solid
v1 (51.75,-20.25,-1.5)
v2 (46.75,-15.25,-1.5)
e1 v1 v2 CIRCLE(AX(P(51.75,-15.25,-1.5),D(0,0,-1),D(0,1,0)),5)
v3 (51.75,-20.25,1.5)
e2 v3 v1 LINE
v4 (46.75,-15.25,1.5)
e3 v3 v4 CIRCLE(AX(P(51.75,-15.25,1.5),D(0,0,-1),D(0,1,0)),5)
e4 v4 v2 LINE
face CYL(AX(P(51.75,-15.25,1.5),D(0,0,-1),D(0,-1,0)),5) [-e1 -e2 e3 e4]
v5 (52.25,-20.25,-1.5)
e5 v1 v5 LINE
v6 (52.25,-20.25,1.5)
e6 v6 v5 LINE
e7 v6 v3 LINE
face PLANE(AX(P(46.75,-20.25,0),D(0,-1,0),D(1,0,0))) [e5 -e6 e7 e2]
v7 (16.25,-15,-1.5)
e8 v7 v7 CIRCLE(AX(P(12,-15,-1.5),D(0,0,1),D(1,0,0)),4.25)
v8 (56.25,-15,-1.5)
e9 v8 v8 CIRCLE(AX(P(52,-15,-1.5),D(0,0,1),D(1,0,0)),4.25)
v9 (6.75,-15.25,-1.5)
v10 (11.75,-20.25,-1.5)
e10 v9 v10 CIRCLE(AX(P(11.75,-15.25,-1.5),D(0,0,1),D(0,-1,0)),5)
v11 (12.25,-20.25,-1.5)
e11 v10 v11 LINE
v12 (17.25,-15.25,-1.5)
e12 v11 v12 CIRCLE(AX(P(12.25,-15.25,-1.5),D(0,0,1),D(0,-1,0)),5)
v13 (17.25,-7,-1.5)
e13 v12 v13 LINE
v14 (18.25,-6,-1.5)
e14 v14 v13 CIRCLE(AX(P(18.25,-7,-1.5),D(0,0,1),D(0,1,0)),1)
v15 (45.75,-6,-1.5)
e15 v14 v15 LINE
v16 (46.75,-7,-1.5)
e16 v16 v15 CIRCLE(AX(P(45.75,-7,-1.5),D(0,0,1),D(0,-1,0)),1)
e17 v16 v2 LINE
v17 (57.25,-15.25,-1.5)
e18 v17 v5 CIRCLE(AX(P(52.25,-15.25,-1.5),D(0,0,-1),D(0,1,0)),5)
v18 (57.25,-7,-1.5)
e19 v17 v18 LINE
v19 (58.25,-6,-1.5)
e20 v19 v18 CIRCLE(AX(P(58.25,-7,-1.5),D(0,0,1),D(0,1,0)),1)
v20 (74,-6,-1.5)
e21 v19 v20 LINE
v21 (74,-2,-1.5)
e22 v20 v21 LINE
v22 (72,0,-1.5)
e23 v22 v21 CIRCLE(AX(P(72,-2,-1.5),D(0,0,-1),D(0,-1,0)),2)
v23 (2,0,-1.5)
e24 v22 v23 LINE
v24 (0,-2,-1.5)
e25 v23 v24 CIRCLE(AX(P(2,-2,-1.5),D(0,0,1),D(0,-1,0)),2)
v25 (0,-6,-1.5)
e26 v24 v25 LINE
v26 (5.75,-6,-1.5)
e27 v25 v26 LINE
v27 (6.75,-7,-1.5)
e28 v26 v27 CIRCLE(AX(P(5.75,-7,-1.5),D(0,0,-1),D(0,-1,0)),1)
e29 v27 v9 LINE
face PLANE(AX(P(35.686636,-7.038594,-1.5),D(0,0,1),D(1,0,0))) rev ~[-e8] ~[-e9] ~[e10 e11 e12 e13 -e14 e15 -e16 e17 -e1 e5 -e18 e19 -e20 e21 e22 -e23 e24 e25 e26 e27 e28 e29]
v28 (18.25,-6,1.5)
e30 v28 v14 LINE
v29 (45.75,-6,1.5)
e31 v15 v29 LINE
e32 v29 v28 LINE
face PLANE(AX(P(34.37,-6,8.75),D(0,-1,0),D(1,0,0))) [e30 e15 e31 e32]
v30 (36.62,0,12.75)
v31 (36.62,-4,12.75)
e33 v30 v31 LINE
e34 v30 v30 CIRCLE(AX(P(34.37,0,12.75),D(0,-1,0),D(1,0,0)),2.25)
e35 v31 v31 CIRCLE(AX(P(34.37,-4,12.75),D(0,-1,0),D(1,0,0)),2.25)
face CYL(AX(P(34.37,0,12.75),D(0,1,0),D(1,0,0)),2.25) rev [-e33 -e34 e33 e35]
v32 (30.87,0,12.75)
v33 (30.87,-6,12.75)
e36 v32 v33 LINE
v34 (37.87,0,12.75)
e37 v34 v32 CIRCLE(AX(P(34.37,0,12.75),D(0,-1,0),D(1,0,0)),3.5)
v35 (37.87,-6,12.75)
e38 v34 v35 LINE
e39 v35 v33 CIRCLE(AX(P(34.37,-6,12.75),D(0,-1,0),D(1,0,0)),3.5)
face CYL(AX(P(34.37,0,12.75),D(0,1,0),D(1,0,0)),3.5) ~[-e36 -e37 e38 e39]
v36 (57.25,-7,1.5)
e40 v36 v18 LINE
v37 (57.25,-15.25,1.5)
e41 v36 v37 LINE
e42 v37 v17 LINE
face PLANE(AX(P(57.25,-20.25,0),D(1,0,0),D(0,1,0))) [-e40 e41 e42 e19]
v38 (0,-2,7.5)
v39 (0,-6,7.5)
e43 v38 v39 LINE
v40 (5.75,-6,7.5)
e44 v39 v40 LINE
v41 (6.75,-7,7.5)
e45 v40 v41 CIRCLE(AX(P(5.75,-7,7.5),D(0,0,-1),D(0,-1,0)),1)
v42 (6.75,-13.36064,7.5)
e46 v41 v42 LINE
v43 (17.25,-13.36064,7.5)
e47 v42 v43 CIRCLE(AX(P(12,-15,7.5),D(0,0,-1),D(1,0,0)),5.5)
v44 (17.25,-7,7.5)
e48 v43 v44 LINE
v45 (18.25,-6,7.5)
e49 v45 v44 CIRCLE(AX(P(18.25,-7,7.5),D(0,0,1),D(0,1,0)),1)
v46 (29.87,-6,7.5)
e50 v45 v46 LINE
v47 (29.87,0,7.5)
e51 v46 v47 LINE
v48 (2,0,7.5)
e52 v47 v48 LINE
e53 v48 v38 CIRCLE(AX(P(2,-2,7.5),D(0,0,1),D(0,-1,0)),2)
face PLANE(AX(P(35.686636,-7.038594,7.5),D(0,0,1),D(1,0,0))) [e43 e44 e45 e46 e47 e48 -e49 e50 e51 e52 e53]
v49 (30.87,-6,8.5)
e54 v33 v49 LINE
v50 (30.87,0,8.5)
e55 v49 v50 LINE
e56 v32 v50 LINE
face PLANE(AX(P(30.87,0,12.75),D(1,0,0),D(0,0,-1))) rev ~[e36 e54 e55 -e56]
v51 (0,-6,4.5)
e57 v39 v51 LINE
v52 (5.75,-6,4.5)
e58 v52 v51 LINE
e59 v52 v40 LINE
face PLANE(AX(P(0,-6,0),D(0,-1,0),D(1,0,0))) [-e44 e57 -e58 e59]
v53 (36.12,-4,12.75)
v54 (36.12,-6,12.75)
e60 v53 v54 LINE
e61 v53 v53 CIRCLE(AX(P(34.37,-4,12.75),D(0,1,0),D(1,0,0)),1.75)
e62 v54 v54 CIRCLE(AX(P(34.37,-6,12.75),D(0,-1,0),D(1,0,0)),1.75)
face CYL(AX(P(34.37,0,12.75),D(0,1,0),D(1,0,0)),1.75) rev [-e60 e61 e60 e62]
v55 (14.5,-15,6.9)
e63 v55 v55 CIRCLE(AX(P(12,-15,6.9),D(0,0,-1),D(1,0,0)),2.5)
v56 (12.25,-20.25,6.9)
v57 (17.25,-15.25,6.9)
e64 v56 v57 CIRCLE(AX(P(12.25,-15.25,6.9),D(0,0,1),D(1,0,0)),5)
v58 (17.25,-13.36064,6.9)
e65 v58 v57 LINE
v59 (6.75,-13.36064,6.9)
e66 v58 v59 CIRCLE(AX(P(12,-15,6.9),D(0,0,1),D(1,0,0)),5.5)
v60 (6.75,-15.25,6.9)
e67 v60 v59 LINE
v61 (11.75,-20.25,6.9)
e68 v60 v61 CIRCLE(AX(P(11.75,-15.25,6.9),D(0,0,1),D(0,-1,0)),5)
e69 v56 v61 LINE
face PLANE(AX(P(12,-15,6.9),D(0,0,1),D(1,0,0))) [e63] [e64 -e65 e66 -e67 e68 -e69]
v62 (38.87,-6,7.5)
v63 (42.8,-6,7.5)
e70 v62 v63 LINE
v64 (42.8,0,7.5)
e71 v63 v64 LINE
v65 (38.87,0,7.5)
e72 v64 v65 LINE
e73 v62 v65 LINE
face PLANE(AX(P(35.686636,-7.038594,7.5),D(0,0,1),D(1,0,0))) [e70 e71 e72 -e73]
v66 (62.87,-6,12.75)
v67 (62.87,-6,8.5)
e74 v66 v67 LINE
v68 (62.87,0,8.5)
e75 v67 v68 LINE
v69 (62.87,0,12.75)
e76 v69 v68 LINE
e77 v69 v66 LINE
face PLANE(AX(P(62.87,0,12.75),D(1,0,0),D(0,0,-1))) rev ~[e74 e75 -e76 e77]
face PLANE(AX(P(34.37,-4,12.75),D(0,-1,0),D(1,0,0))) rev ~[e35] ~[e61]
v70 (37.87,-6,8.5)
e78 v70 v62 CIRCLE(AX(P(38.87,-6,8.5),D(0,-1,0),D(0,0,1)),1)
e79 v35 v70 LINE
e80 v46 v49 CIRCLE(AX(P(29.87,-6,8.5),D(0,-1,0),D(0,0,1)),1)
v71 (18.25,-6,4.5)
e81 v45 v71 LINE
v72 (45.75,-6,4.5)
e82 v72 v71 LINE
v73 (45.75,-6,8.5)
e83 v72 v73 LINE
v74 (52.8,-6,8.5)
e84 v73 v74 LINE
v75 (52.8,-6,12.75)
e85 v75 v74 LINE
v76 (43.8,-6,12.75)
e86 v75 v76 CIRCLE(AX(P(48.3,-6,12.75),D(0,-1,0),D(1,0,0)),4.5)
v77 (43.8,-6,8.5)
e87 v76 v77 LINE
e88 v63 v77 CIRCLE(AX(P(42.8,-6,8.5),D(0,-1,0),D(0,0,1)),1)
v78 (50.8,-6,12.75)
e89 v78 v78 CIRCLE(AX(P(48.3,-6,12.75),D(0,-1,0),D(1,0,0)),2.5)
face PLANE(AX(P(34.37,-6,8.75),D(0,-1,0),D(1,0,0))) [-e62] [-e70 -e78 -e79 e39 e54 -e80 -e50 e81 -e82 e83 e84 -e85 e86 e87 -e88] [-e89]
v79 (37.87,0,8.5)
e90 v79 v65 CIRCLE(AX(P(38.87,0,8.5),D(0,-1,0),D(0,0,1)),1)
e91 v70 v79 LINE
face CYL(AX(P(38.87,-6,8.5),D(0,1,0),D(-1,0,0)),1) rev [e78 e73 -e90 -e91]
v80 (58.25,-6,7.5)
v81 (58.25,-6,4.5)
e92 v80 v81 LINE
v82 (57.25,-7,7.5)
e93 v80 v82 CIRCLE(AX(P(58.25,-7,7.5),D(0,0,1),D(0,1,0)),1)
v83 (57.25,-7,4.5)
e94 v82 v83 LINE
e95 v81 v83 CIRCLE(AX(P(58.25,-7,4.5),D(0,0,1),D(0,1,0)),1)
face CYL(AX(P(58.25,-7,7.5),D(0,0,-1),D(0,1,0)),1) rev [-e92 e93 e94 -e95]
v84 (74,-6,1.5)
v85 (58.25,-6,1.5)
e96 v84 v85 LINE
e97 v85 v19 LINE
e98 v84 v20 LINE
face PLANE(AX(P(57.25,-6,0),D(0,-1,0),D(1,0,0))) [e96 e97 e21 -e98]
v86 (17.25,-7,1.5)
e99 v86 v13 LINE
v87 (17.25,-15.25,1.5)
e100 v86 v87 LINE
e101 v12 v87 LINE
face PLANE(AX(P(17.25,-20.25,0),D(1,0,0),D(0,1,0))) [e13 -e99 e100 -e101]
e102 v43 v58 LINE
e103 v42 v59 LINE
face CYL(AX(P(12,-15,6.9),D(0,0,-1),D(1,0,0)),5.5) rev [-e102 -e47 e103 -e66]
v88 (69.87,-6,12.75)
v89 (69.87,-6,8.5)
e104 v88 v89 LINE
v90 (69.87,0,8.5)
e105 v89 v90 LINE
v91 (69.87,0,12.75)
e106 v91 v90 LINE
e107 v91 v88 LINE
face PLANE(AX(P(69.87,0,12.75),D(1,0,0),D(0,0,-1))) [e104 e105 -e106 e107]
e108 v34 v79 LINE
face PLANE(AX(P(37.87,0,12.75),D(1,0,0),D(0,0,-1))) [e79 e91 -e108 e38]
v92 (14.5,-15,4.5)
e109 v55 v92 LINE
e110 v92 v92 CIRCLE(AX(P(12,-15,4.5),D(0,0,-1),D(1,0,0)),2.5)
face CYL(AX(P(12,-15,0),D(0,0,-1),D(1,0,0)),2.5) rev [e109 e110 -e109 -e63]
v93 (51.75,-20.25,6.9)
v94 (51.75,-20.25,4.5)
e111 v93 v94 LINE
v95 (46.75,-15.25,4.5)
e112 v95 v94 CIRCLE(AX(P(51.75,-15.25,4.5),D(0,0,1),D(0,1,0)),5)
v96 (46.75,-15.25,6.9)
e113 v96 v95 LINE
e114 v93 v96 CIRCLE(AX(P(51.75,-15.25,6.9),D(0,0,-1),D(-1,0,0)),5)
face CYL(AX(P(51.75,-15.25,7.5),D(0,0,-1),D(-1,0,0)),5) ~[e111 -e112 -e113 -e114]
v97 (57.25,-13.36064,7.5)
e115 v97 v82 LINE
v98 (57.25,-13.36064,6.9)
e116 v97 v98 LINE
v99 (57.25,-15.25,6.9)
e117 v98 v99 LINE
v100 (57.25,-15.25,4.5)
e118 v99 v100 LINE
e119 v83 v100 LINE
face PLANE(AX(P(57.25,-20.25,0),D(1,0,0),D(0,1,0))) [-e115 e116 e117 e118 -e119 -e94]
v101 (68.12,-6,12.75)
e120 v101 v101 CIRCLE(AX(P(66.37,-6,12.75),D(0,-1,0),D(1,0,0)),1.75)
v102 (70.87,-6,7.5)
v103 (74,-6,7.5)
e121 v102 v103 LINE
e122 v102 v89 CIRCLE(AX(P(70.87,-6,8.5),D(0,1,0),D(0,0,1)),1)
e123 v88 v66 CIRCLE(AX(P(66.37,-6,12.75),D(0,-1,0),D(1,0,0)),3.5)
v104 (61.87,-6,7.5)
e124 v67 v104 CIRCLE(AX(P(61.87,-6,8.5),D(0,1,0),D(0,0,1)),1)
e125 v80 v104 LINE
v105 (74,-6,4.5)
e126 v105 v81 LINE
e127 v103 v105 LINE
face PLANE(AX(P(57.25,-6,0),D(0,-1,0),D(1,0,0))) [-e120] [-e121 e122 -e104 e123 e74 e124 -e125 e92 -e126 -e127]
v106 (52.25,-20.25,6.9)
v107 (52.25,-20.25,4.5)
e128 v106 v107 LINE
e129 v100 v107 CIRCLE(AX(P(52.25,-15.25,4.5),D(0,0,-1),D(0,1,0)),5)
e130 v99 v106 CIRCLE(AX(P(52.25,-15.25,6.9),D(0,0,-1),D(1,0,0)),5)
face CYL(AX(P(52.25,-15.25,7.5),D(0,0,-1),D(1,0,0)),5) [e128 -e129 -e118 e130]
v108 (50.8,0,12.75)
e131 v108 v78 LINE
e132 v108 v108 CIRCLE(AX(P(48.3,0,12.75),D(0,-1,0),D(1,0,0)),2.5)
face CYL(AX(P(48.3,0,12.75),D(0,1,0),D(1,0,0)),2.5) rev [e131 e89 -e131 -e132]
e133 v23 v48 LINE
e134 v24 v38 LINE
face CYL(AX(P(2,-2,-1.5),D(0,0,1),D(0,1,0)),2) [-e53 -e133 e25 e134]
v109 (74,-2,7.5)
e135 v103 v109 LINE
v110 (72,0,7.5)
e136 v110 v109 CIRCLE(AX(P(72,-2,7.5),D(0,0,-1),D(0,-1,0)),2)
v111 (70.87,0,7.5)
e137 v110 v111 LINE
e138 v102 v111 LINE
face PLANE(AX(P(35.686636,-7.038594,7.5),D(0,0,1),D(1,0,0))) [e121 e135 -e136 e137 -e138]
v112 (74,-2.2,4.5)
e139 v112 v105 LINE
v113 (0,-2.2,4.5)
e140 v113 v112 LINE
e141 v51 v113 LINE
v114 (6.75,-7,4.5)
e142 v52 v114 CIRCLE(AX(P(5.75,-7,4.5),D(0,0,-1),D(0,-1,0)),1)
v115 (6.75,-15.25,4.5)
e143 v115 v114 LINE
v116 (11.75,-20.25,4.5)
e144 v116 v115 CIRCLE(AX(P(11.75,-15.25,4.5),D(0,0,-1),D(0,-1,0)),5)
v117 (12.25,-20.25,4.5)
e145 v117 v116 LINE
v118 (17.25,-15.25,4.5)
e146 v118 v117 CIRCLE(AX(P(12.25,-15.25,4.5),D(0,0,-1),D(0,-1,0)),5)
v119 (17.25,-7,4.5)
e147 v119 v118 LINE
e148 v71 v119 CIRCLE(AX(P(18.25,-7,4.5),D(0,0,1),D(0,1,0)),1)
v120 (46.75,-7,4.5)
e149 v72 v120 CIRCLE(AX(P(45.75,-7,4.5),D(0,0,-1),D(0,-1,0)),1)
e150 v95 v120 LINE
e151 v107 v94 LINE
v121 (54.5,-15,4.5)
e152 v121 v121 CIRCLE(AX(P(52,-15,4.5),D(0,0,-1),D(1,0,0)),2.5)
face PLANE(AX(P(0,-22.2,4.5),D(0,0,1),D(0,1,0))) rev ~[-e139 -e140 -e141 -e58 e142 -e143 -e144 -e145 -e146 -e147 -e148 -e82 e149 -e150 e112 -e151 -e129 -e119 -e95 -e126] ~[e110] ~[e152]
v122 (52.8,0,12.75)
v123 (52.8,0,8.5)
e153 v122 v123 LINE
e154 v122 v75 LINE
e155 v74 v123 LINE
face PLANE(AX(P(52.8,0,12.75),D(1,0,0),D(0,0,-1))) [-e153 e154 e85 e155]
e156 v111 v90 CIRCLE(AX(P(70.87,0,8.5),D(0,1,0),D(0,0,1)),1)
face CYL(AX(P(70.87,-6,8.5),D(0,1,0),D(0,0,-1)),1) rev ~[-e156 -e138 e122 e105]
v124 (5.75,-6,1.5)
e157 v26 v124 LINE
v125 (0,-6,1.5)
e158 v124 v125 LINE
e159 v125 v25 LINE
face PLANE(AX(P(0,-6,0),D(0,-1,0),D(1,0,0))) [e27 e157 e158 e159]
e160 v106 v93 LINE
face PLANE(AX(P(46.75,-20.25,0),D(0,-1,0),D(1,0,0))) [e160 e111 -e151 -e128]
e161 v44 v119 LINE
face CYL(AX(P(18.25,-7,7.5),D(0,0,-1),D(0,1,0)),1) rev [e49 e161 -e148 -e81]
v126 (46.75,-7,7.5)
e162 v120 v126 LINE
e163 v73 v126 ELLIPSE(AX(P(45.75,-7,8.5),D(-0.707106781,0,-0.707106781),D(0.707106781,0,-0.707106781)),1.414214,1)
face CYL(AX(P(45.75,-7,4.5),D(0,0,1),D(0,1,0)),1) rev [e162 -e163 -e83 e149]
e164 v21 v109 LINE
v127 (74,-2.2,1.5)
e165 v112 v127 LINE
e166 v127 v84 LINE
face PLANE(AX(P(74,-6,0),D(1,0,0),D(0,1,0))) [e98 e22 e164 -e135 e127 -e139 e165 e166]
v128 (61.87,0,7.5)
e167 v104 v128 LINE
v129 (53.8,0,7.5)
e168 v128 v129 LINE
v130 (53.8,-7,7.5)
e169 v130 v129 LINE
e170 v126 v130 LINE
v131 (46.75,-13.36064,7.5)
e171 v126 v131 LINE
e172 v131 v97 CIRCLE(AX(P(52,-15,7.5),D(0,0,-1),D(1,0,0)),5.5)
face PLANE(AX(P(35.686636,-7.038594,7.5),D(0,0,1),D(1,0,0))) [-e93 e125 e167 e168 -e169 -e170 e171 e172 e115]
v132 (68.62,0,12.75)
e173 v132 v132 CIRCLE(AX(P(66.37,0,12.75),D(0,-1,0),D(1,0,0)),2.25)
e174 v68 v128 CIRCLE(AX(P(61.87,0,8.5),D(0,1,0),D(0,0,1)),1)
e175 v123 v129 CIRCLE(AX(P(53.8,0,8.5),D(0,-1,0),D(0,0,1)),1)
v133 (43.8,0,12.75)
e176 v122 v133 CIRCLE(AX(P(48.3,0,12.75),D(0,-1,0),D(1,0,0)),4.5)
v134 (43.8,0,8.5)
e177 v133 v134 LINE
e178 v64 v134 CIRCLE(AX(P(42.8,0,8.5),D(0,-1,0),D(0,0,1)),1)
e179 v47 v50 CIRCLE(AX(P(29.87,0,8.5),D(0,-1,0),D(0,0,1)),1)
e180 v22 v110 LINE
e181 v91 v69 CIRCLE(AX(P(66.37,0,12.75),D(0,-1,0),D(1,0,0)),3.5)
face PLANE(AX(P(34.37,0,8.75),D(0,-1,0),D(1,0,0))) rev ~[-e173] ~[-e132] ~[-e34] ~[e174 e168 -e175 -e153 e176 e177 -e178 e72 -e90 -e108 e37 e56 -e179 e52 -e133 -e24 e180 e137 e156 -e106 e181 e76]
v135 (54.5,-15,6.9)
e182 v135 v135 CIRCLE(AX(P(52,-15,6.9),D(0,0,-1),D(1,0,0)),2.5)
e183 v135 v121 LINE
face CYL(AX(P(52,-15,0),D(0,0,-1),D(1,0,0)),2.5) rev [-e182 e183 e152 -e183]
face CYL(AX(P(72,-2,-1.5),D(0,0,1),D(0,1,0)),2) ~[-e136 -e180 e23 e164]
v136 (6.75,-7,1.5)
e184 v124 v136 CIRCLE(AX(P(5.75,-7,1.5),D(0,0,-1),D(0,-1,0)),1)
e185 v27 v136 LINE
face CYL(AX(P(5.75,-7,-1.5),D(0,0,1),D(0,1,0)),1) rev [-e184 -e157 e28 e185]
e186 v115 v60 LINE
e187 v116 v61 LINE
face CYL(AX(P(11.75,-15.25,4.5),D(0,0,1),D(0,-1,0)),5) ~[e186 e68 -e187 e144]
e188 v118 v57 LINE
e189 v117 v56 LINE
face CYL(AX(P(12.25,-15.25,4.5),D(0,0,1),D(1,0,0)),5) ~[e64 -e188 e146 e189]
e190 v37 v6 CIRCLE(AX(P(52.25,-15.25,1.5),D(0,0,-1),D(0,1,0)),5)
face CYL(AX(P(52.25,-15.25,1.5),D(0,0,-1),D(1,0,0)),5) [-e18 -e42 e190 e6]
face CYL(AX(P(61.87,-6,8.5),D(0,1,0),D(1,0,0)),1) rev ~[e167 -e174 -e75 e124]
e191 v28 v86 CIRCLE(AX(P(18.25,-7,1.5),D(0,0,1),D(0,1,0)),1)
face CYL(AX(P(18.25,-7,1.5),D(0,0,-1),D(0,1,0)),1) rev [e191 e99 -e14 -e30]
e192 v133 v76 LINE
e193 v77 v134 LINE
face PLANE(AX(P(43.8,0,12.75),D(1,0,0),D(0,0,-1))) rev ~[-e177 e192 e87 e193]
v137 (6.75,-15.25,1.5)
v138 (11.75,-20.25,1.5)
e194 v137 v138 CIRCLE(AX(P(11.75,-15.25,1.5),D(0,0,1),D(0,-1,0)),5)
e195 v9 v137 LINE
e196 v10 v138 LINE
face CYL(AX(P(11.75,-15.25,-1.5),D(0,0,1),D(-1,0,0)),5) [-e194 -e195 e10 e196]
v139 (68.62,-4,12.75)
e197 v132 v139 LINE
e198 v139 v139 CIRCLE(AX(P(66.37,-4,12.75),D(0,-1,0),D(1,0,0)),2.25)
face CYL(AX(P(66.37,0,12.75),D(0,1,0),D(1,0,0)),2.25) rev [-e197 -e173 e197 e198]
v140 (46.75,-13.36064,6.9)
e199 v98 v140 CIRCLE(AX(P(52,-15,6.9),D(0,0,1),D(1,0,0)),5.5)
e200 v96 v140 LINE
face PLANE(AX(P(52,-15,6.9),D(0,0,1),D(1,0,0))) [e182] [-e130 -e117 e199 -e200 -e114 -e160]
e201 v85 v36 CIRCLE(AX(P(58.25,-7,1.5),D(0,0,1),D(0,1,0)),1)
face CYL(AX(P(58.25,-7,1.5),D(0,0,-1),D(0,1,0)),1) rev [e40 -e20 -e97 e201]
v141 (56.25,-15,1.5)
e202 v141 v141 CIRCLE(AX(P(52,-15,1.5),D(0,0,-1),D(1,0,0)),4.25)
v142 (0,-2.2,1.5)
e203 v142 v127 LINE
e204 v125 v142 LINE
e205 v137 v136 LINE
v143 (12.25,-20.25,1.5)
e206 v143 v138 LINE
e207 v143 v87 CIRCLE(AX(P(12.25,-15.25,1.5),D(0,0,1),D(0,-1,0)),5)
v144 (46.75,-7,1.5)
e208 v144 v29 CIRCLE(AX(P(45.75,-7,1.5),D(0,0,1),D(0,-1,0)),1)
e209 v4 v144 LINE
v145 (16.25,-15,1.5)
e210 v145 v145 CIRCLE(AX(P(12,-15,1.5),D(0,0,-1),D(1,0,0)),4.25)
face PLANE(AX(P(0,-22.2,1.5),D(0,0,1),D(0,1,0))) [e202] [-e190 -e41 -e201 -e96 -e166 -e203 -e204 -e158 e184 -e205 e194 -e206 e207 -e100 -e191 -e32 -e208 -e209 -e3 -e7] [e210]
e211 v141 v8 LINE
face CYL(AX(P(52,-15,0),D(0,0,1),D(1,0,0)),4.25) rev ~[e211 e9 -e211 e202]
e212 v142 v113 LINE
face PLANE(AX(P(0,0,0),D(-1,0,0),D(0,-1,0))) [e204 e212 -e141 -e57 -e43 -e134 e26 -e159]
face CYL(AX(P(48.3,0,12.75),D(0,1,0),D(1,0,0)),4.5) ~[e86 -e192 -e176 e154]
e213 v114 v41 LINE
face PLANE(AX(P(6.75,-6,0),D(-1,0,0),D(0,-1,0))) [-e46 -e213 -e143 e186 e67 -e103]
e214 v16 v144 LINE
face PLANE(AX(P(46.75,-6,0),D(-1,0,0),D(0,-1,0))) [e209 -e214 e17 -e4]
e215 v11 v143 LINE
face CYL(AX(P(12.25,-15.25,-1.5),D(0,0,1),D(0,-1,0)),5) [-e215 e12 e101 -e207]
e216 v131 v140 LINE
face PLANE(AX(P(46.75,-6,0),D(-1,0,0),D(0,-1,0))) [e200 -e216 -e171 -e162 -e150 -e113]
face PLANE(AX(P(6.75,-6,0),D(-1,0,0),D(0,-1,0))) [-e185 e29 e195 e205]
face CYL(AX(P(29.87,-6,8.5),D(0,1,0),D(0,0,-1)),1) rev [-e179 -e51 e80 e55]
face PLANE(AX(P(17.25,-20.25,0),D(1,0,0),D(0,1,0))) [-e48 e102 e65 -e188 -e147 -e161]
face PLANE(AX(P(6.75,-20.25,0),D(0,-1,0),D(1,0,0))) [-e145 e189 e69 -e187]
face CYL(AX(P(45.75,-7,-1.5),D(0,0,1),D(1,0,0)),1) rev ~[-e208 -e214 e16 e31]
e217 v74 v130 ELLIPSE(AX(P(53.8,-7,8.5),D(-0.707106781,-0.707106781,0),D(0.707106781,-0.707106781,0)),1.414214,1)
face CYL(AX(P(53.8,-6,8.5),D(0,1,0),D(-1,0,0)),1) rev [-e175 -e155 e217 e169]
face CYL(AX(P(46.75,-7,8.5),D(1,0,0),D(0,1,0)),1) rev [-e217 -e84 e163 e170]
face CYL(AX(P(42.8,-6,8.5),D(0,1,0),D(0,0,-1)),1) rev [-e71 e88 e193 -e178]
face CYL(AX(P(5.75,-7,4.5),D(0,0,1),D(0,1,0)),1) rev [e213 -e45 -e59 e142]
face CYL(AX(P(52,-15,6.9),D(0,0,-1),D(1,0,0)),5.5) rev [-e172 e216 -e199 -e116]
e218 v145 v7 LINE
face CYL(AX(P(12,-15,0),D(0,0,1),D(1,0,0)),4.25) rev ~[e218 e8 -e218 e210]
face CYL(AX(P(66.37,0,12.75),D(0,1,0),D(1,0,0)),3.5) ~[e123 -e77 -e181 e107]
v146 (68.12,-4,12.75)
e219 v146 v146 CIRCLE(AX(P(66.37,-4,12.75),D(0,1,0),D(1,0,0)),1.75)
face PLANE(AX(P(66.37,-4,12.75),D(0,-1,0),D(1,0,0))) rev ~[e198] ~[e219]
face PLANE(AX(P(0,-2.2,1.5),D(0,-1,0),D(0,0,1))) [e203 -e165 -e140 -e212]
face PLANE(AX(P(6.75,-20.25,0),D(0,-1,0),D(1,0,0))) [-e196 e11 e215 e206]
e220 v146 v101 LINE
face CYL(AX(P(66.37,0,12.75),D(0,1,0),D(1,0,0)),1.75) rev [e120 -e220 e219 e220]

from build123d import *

# Parameters (mm, degrees)
SKETCH001_R          = 2.5
PAD_DEPTH            = 7.5
PAD_DEPTH_BACK       = 1.5
SKETCH_R             = 1.75
SKETCH_R_2           = 2.5
PAD001_DEPTH         = 6
SKETCH003_W          = 20
SKETCH003_H          = 3
POCKET_DEPTH         = 100
POCKET_DEPTH_BACK    = -100
FILLET_R             = 5
FILLET001_R          = 2
FILLET002_R          = 1
SKETCH004_R          = 4.25
POCKET001_DEPTH      = 2
POCKET001_DEPTH_BACK = -2
SKETCH005_R          = 5.5
POCKET002_DEPTH      = 5
SKETCH006_R          = 2.25
POCKET003_DEPTH      = 4


with BuildPart() as part:
    # Sketch001 → Pad (new body, two sides)
    with BuildSketch(Plane.XY) as pad_sk:
        Polygon((74, -6), (74, 0), (0, 0), (0, -6), (6.75, -6), (6.75, -20.25), (17.25, -20.25), (17.25, -6), (46.75, -6), (46.75, -20.25), (57.25, -20.25), (57.25, -6), align=None)
        with Locations((12, -15)):
            Circle(SKETCH001_R, mode=Mode.SUBTRACT)
        with Locations((52, -15)):
            Circle(SKETCH001_R, mode=Mode.SUBTRACT)
    extrude(amount=PAD_DEPTH)
    extrude(pad_sk.sketch, amount=-PAD_DEPTH_BACK)

    # Sketch → Pad001 (join)
    with BuildSketch(Plane.XZ):
        with BuildLine():
            ThreePointArc((37.87, 12.75), (34.37, 16.25), (30.87, 12.75))
            Line((30.87, 12.75), (30.87, 4.75))
            ThreePointArc((30.87, 4.75), (34.37, 1.25), (37.87, 4.75))
            Line((37.87, 12.75), (37.87, 4.75))
        make_face()
        with Locations((34.37, 12.75)):
            Circle(SKETCH_R, mode=Mode.SUBTRACT)
        with BuildLine():
            ThreePointArc((52.8, 12.75), (48.3, 17.25), (43.8, 12.75))
            Line((43.8, 12.75), (43.8, 4.75))
            ThreePointArc((43.8, 4.75), (48.3, 0.25), (52.8, 4.75))
            Line((52.8, 12.75), (52.8, 4.75))
        make_face()
        with Locations((48.3, 12.75)):
            Circle(SKETCH_R_2, mode=Mode.SUBTRACT)
        with BuildLine():
            ThreePointArc((69.87, 12.75), (66.37, 16.25), (62.87, 12.75))
            Line((62.87, 12.75), (62.87, 4.75))
            ThreePointArc((62.87, 4.75), (66.37, 1.25), (69.87, 4.75))
            Line((69.87, 12.75), (69.87, 4.75))
        make_face()
        with Locations((66.37, 12.75)):
            Circle(SKETCH_R, mode=Mode.SUBTRACT)
    extrude(amount=PAD001_DEPTH)

    # Sketch003 → Pocket (cut, two sides)
    with BuildSketch(Plane.YZ) as pocket_sk:
        with Locations((-12.2, 3)):
            Rectangle(SKETCH003_W, SKETCH003_H)
    extrude(amount=-POCKET_DEPTH, mode=Mode.SUBTRACT)
    extrude(pocket_sk.sketch, amount=-POCKET_DEPTH_BACK, mode=Mode.SUBTRACT)

    # Fillet
    fillet_edges = [part.edges().sort_by_distance(p)[0] for p in [
        (46.75, -20.25, 0),
        (46.75, -20.25, 6),
        (57.25, -20.25, 6),
        (57.25, -20.25, 0),
        (17.25, -20.25, 0),
        (17.25, -20.25, 6),
        (6.75, -20.25, 6),
        (6.75, -20.25, 0),
    ]]
    fillet(fillet_edges, radius=FILLET_R)

    # Fillet001
    fillet001_edges = [part.edges().sort_by_distance(p)[0] for p in [
        (74, 0, 3),
        (0, 0, 3),
    ]]
    fillet(fillet001_edges, radius=FILLET001_R)

    # Fillet002
    fillet002_edges = [part.edges().sort_by_distance(p)[0] for p in [
        (49.775, -6, 7.5),
        (52.8, -3, 7.5),
        (46.75, -6, 6),
        (57.25, -6, 6),
        (62.87, -3, 7.5),
        (69.87, -3, 7.5),
        (57.25, -6, 0),
        (46.75, -6, 0),
        (6.75, -6, 6),
        (6.75, -6, 0),
        (43.8, -3, 7.5),
        (30.87, -3, 7.5),
        (37.87, -3, 7.5),
        (17.25, -6, 6),
        (17.25, -6, 0),
    ]]
    fillet(fillet002_edges, radius=FILLET002_R)

    # Sketch004 → Pocket001 (cut, two sides)
    with BuildSketch(Plane.XY) as pocket001_sk:
        with Locations((12, -15)):
            Circle(SKETCH004_R)
        with Locations((52, -15)):
            Circle(SKETCH004_R)
    extrude(amount=-POCKET001_DEPTH, mode=Mode.SUBTRACT)
    extrude(pocket001_sk.sketch, amount=-POCKET001_DEPTH_BACK, mode=Mode.SUBTRACT)

    # Sketch005 → Pocket002 (cut)
    with BuildSketch(Plane.XY.offset(6.9)):
        with Locations((12, -15)):
            Circle(SKETCH005_R)
        with Locations((52, -15)):
            Circle(SKETCH005_R)
    extrude(amount=POCKET002_DEPTH, mode=Mode.SUBTRACT)

    # Sketch006 → Pocket003 (cut)
    with BuildSketch(Plane.XZ):
        with Locations((34.37, 12.75)):
            Circle(SKETCH006_R)
        with Locations((66.37, 12.75)):
            Circle(SKETCH006_R)
    extrude(amount=POCKET003_DEPTH, mode=Mode.SUBTRACT)


solid = part.part
